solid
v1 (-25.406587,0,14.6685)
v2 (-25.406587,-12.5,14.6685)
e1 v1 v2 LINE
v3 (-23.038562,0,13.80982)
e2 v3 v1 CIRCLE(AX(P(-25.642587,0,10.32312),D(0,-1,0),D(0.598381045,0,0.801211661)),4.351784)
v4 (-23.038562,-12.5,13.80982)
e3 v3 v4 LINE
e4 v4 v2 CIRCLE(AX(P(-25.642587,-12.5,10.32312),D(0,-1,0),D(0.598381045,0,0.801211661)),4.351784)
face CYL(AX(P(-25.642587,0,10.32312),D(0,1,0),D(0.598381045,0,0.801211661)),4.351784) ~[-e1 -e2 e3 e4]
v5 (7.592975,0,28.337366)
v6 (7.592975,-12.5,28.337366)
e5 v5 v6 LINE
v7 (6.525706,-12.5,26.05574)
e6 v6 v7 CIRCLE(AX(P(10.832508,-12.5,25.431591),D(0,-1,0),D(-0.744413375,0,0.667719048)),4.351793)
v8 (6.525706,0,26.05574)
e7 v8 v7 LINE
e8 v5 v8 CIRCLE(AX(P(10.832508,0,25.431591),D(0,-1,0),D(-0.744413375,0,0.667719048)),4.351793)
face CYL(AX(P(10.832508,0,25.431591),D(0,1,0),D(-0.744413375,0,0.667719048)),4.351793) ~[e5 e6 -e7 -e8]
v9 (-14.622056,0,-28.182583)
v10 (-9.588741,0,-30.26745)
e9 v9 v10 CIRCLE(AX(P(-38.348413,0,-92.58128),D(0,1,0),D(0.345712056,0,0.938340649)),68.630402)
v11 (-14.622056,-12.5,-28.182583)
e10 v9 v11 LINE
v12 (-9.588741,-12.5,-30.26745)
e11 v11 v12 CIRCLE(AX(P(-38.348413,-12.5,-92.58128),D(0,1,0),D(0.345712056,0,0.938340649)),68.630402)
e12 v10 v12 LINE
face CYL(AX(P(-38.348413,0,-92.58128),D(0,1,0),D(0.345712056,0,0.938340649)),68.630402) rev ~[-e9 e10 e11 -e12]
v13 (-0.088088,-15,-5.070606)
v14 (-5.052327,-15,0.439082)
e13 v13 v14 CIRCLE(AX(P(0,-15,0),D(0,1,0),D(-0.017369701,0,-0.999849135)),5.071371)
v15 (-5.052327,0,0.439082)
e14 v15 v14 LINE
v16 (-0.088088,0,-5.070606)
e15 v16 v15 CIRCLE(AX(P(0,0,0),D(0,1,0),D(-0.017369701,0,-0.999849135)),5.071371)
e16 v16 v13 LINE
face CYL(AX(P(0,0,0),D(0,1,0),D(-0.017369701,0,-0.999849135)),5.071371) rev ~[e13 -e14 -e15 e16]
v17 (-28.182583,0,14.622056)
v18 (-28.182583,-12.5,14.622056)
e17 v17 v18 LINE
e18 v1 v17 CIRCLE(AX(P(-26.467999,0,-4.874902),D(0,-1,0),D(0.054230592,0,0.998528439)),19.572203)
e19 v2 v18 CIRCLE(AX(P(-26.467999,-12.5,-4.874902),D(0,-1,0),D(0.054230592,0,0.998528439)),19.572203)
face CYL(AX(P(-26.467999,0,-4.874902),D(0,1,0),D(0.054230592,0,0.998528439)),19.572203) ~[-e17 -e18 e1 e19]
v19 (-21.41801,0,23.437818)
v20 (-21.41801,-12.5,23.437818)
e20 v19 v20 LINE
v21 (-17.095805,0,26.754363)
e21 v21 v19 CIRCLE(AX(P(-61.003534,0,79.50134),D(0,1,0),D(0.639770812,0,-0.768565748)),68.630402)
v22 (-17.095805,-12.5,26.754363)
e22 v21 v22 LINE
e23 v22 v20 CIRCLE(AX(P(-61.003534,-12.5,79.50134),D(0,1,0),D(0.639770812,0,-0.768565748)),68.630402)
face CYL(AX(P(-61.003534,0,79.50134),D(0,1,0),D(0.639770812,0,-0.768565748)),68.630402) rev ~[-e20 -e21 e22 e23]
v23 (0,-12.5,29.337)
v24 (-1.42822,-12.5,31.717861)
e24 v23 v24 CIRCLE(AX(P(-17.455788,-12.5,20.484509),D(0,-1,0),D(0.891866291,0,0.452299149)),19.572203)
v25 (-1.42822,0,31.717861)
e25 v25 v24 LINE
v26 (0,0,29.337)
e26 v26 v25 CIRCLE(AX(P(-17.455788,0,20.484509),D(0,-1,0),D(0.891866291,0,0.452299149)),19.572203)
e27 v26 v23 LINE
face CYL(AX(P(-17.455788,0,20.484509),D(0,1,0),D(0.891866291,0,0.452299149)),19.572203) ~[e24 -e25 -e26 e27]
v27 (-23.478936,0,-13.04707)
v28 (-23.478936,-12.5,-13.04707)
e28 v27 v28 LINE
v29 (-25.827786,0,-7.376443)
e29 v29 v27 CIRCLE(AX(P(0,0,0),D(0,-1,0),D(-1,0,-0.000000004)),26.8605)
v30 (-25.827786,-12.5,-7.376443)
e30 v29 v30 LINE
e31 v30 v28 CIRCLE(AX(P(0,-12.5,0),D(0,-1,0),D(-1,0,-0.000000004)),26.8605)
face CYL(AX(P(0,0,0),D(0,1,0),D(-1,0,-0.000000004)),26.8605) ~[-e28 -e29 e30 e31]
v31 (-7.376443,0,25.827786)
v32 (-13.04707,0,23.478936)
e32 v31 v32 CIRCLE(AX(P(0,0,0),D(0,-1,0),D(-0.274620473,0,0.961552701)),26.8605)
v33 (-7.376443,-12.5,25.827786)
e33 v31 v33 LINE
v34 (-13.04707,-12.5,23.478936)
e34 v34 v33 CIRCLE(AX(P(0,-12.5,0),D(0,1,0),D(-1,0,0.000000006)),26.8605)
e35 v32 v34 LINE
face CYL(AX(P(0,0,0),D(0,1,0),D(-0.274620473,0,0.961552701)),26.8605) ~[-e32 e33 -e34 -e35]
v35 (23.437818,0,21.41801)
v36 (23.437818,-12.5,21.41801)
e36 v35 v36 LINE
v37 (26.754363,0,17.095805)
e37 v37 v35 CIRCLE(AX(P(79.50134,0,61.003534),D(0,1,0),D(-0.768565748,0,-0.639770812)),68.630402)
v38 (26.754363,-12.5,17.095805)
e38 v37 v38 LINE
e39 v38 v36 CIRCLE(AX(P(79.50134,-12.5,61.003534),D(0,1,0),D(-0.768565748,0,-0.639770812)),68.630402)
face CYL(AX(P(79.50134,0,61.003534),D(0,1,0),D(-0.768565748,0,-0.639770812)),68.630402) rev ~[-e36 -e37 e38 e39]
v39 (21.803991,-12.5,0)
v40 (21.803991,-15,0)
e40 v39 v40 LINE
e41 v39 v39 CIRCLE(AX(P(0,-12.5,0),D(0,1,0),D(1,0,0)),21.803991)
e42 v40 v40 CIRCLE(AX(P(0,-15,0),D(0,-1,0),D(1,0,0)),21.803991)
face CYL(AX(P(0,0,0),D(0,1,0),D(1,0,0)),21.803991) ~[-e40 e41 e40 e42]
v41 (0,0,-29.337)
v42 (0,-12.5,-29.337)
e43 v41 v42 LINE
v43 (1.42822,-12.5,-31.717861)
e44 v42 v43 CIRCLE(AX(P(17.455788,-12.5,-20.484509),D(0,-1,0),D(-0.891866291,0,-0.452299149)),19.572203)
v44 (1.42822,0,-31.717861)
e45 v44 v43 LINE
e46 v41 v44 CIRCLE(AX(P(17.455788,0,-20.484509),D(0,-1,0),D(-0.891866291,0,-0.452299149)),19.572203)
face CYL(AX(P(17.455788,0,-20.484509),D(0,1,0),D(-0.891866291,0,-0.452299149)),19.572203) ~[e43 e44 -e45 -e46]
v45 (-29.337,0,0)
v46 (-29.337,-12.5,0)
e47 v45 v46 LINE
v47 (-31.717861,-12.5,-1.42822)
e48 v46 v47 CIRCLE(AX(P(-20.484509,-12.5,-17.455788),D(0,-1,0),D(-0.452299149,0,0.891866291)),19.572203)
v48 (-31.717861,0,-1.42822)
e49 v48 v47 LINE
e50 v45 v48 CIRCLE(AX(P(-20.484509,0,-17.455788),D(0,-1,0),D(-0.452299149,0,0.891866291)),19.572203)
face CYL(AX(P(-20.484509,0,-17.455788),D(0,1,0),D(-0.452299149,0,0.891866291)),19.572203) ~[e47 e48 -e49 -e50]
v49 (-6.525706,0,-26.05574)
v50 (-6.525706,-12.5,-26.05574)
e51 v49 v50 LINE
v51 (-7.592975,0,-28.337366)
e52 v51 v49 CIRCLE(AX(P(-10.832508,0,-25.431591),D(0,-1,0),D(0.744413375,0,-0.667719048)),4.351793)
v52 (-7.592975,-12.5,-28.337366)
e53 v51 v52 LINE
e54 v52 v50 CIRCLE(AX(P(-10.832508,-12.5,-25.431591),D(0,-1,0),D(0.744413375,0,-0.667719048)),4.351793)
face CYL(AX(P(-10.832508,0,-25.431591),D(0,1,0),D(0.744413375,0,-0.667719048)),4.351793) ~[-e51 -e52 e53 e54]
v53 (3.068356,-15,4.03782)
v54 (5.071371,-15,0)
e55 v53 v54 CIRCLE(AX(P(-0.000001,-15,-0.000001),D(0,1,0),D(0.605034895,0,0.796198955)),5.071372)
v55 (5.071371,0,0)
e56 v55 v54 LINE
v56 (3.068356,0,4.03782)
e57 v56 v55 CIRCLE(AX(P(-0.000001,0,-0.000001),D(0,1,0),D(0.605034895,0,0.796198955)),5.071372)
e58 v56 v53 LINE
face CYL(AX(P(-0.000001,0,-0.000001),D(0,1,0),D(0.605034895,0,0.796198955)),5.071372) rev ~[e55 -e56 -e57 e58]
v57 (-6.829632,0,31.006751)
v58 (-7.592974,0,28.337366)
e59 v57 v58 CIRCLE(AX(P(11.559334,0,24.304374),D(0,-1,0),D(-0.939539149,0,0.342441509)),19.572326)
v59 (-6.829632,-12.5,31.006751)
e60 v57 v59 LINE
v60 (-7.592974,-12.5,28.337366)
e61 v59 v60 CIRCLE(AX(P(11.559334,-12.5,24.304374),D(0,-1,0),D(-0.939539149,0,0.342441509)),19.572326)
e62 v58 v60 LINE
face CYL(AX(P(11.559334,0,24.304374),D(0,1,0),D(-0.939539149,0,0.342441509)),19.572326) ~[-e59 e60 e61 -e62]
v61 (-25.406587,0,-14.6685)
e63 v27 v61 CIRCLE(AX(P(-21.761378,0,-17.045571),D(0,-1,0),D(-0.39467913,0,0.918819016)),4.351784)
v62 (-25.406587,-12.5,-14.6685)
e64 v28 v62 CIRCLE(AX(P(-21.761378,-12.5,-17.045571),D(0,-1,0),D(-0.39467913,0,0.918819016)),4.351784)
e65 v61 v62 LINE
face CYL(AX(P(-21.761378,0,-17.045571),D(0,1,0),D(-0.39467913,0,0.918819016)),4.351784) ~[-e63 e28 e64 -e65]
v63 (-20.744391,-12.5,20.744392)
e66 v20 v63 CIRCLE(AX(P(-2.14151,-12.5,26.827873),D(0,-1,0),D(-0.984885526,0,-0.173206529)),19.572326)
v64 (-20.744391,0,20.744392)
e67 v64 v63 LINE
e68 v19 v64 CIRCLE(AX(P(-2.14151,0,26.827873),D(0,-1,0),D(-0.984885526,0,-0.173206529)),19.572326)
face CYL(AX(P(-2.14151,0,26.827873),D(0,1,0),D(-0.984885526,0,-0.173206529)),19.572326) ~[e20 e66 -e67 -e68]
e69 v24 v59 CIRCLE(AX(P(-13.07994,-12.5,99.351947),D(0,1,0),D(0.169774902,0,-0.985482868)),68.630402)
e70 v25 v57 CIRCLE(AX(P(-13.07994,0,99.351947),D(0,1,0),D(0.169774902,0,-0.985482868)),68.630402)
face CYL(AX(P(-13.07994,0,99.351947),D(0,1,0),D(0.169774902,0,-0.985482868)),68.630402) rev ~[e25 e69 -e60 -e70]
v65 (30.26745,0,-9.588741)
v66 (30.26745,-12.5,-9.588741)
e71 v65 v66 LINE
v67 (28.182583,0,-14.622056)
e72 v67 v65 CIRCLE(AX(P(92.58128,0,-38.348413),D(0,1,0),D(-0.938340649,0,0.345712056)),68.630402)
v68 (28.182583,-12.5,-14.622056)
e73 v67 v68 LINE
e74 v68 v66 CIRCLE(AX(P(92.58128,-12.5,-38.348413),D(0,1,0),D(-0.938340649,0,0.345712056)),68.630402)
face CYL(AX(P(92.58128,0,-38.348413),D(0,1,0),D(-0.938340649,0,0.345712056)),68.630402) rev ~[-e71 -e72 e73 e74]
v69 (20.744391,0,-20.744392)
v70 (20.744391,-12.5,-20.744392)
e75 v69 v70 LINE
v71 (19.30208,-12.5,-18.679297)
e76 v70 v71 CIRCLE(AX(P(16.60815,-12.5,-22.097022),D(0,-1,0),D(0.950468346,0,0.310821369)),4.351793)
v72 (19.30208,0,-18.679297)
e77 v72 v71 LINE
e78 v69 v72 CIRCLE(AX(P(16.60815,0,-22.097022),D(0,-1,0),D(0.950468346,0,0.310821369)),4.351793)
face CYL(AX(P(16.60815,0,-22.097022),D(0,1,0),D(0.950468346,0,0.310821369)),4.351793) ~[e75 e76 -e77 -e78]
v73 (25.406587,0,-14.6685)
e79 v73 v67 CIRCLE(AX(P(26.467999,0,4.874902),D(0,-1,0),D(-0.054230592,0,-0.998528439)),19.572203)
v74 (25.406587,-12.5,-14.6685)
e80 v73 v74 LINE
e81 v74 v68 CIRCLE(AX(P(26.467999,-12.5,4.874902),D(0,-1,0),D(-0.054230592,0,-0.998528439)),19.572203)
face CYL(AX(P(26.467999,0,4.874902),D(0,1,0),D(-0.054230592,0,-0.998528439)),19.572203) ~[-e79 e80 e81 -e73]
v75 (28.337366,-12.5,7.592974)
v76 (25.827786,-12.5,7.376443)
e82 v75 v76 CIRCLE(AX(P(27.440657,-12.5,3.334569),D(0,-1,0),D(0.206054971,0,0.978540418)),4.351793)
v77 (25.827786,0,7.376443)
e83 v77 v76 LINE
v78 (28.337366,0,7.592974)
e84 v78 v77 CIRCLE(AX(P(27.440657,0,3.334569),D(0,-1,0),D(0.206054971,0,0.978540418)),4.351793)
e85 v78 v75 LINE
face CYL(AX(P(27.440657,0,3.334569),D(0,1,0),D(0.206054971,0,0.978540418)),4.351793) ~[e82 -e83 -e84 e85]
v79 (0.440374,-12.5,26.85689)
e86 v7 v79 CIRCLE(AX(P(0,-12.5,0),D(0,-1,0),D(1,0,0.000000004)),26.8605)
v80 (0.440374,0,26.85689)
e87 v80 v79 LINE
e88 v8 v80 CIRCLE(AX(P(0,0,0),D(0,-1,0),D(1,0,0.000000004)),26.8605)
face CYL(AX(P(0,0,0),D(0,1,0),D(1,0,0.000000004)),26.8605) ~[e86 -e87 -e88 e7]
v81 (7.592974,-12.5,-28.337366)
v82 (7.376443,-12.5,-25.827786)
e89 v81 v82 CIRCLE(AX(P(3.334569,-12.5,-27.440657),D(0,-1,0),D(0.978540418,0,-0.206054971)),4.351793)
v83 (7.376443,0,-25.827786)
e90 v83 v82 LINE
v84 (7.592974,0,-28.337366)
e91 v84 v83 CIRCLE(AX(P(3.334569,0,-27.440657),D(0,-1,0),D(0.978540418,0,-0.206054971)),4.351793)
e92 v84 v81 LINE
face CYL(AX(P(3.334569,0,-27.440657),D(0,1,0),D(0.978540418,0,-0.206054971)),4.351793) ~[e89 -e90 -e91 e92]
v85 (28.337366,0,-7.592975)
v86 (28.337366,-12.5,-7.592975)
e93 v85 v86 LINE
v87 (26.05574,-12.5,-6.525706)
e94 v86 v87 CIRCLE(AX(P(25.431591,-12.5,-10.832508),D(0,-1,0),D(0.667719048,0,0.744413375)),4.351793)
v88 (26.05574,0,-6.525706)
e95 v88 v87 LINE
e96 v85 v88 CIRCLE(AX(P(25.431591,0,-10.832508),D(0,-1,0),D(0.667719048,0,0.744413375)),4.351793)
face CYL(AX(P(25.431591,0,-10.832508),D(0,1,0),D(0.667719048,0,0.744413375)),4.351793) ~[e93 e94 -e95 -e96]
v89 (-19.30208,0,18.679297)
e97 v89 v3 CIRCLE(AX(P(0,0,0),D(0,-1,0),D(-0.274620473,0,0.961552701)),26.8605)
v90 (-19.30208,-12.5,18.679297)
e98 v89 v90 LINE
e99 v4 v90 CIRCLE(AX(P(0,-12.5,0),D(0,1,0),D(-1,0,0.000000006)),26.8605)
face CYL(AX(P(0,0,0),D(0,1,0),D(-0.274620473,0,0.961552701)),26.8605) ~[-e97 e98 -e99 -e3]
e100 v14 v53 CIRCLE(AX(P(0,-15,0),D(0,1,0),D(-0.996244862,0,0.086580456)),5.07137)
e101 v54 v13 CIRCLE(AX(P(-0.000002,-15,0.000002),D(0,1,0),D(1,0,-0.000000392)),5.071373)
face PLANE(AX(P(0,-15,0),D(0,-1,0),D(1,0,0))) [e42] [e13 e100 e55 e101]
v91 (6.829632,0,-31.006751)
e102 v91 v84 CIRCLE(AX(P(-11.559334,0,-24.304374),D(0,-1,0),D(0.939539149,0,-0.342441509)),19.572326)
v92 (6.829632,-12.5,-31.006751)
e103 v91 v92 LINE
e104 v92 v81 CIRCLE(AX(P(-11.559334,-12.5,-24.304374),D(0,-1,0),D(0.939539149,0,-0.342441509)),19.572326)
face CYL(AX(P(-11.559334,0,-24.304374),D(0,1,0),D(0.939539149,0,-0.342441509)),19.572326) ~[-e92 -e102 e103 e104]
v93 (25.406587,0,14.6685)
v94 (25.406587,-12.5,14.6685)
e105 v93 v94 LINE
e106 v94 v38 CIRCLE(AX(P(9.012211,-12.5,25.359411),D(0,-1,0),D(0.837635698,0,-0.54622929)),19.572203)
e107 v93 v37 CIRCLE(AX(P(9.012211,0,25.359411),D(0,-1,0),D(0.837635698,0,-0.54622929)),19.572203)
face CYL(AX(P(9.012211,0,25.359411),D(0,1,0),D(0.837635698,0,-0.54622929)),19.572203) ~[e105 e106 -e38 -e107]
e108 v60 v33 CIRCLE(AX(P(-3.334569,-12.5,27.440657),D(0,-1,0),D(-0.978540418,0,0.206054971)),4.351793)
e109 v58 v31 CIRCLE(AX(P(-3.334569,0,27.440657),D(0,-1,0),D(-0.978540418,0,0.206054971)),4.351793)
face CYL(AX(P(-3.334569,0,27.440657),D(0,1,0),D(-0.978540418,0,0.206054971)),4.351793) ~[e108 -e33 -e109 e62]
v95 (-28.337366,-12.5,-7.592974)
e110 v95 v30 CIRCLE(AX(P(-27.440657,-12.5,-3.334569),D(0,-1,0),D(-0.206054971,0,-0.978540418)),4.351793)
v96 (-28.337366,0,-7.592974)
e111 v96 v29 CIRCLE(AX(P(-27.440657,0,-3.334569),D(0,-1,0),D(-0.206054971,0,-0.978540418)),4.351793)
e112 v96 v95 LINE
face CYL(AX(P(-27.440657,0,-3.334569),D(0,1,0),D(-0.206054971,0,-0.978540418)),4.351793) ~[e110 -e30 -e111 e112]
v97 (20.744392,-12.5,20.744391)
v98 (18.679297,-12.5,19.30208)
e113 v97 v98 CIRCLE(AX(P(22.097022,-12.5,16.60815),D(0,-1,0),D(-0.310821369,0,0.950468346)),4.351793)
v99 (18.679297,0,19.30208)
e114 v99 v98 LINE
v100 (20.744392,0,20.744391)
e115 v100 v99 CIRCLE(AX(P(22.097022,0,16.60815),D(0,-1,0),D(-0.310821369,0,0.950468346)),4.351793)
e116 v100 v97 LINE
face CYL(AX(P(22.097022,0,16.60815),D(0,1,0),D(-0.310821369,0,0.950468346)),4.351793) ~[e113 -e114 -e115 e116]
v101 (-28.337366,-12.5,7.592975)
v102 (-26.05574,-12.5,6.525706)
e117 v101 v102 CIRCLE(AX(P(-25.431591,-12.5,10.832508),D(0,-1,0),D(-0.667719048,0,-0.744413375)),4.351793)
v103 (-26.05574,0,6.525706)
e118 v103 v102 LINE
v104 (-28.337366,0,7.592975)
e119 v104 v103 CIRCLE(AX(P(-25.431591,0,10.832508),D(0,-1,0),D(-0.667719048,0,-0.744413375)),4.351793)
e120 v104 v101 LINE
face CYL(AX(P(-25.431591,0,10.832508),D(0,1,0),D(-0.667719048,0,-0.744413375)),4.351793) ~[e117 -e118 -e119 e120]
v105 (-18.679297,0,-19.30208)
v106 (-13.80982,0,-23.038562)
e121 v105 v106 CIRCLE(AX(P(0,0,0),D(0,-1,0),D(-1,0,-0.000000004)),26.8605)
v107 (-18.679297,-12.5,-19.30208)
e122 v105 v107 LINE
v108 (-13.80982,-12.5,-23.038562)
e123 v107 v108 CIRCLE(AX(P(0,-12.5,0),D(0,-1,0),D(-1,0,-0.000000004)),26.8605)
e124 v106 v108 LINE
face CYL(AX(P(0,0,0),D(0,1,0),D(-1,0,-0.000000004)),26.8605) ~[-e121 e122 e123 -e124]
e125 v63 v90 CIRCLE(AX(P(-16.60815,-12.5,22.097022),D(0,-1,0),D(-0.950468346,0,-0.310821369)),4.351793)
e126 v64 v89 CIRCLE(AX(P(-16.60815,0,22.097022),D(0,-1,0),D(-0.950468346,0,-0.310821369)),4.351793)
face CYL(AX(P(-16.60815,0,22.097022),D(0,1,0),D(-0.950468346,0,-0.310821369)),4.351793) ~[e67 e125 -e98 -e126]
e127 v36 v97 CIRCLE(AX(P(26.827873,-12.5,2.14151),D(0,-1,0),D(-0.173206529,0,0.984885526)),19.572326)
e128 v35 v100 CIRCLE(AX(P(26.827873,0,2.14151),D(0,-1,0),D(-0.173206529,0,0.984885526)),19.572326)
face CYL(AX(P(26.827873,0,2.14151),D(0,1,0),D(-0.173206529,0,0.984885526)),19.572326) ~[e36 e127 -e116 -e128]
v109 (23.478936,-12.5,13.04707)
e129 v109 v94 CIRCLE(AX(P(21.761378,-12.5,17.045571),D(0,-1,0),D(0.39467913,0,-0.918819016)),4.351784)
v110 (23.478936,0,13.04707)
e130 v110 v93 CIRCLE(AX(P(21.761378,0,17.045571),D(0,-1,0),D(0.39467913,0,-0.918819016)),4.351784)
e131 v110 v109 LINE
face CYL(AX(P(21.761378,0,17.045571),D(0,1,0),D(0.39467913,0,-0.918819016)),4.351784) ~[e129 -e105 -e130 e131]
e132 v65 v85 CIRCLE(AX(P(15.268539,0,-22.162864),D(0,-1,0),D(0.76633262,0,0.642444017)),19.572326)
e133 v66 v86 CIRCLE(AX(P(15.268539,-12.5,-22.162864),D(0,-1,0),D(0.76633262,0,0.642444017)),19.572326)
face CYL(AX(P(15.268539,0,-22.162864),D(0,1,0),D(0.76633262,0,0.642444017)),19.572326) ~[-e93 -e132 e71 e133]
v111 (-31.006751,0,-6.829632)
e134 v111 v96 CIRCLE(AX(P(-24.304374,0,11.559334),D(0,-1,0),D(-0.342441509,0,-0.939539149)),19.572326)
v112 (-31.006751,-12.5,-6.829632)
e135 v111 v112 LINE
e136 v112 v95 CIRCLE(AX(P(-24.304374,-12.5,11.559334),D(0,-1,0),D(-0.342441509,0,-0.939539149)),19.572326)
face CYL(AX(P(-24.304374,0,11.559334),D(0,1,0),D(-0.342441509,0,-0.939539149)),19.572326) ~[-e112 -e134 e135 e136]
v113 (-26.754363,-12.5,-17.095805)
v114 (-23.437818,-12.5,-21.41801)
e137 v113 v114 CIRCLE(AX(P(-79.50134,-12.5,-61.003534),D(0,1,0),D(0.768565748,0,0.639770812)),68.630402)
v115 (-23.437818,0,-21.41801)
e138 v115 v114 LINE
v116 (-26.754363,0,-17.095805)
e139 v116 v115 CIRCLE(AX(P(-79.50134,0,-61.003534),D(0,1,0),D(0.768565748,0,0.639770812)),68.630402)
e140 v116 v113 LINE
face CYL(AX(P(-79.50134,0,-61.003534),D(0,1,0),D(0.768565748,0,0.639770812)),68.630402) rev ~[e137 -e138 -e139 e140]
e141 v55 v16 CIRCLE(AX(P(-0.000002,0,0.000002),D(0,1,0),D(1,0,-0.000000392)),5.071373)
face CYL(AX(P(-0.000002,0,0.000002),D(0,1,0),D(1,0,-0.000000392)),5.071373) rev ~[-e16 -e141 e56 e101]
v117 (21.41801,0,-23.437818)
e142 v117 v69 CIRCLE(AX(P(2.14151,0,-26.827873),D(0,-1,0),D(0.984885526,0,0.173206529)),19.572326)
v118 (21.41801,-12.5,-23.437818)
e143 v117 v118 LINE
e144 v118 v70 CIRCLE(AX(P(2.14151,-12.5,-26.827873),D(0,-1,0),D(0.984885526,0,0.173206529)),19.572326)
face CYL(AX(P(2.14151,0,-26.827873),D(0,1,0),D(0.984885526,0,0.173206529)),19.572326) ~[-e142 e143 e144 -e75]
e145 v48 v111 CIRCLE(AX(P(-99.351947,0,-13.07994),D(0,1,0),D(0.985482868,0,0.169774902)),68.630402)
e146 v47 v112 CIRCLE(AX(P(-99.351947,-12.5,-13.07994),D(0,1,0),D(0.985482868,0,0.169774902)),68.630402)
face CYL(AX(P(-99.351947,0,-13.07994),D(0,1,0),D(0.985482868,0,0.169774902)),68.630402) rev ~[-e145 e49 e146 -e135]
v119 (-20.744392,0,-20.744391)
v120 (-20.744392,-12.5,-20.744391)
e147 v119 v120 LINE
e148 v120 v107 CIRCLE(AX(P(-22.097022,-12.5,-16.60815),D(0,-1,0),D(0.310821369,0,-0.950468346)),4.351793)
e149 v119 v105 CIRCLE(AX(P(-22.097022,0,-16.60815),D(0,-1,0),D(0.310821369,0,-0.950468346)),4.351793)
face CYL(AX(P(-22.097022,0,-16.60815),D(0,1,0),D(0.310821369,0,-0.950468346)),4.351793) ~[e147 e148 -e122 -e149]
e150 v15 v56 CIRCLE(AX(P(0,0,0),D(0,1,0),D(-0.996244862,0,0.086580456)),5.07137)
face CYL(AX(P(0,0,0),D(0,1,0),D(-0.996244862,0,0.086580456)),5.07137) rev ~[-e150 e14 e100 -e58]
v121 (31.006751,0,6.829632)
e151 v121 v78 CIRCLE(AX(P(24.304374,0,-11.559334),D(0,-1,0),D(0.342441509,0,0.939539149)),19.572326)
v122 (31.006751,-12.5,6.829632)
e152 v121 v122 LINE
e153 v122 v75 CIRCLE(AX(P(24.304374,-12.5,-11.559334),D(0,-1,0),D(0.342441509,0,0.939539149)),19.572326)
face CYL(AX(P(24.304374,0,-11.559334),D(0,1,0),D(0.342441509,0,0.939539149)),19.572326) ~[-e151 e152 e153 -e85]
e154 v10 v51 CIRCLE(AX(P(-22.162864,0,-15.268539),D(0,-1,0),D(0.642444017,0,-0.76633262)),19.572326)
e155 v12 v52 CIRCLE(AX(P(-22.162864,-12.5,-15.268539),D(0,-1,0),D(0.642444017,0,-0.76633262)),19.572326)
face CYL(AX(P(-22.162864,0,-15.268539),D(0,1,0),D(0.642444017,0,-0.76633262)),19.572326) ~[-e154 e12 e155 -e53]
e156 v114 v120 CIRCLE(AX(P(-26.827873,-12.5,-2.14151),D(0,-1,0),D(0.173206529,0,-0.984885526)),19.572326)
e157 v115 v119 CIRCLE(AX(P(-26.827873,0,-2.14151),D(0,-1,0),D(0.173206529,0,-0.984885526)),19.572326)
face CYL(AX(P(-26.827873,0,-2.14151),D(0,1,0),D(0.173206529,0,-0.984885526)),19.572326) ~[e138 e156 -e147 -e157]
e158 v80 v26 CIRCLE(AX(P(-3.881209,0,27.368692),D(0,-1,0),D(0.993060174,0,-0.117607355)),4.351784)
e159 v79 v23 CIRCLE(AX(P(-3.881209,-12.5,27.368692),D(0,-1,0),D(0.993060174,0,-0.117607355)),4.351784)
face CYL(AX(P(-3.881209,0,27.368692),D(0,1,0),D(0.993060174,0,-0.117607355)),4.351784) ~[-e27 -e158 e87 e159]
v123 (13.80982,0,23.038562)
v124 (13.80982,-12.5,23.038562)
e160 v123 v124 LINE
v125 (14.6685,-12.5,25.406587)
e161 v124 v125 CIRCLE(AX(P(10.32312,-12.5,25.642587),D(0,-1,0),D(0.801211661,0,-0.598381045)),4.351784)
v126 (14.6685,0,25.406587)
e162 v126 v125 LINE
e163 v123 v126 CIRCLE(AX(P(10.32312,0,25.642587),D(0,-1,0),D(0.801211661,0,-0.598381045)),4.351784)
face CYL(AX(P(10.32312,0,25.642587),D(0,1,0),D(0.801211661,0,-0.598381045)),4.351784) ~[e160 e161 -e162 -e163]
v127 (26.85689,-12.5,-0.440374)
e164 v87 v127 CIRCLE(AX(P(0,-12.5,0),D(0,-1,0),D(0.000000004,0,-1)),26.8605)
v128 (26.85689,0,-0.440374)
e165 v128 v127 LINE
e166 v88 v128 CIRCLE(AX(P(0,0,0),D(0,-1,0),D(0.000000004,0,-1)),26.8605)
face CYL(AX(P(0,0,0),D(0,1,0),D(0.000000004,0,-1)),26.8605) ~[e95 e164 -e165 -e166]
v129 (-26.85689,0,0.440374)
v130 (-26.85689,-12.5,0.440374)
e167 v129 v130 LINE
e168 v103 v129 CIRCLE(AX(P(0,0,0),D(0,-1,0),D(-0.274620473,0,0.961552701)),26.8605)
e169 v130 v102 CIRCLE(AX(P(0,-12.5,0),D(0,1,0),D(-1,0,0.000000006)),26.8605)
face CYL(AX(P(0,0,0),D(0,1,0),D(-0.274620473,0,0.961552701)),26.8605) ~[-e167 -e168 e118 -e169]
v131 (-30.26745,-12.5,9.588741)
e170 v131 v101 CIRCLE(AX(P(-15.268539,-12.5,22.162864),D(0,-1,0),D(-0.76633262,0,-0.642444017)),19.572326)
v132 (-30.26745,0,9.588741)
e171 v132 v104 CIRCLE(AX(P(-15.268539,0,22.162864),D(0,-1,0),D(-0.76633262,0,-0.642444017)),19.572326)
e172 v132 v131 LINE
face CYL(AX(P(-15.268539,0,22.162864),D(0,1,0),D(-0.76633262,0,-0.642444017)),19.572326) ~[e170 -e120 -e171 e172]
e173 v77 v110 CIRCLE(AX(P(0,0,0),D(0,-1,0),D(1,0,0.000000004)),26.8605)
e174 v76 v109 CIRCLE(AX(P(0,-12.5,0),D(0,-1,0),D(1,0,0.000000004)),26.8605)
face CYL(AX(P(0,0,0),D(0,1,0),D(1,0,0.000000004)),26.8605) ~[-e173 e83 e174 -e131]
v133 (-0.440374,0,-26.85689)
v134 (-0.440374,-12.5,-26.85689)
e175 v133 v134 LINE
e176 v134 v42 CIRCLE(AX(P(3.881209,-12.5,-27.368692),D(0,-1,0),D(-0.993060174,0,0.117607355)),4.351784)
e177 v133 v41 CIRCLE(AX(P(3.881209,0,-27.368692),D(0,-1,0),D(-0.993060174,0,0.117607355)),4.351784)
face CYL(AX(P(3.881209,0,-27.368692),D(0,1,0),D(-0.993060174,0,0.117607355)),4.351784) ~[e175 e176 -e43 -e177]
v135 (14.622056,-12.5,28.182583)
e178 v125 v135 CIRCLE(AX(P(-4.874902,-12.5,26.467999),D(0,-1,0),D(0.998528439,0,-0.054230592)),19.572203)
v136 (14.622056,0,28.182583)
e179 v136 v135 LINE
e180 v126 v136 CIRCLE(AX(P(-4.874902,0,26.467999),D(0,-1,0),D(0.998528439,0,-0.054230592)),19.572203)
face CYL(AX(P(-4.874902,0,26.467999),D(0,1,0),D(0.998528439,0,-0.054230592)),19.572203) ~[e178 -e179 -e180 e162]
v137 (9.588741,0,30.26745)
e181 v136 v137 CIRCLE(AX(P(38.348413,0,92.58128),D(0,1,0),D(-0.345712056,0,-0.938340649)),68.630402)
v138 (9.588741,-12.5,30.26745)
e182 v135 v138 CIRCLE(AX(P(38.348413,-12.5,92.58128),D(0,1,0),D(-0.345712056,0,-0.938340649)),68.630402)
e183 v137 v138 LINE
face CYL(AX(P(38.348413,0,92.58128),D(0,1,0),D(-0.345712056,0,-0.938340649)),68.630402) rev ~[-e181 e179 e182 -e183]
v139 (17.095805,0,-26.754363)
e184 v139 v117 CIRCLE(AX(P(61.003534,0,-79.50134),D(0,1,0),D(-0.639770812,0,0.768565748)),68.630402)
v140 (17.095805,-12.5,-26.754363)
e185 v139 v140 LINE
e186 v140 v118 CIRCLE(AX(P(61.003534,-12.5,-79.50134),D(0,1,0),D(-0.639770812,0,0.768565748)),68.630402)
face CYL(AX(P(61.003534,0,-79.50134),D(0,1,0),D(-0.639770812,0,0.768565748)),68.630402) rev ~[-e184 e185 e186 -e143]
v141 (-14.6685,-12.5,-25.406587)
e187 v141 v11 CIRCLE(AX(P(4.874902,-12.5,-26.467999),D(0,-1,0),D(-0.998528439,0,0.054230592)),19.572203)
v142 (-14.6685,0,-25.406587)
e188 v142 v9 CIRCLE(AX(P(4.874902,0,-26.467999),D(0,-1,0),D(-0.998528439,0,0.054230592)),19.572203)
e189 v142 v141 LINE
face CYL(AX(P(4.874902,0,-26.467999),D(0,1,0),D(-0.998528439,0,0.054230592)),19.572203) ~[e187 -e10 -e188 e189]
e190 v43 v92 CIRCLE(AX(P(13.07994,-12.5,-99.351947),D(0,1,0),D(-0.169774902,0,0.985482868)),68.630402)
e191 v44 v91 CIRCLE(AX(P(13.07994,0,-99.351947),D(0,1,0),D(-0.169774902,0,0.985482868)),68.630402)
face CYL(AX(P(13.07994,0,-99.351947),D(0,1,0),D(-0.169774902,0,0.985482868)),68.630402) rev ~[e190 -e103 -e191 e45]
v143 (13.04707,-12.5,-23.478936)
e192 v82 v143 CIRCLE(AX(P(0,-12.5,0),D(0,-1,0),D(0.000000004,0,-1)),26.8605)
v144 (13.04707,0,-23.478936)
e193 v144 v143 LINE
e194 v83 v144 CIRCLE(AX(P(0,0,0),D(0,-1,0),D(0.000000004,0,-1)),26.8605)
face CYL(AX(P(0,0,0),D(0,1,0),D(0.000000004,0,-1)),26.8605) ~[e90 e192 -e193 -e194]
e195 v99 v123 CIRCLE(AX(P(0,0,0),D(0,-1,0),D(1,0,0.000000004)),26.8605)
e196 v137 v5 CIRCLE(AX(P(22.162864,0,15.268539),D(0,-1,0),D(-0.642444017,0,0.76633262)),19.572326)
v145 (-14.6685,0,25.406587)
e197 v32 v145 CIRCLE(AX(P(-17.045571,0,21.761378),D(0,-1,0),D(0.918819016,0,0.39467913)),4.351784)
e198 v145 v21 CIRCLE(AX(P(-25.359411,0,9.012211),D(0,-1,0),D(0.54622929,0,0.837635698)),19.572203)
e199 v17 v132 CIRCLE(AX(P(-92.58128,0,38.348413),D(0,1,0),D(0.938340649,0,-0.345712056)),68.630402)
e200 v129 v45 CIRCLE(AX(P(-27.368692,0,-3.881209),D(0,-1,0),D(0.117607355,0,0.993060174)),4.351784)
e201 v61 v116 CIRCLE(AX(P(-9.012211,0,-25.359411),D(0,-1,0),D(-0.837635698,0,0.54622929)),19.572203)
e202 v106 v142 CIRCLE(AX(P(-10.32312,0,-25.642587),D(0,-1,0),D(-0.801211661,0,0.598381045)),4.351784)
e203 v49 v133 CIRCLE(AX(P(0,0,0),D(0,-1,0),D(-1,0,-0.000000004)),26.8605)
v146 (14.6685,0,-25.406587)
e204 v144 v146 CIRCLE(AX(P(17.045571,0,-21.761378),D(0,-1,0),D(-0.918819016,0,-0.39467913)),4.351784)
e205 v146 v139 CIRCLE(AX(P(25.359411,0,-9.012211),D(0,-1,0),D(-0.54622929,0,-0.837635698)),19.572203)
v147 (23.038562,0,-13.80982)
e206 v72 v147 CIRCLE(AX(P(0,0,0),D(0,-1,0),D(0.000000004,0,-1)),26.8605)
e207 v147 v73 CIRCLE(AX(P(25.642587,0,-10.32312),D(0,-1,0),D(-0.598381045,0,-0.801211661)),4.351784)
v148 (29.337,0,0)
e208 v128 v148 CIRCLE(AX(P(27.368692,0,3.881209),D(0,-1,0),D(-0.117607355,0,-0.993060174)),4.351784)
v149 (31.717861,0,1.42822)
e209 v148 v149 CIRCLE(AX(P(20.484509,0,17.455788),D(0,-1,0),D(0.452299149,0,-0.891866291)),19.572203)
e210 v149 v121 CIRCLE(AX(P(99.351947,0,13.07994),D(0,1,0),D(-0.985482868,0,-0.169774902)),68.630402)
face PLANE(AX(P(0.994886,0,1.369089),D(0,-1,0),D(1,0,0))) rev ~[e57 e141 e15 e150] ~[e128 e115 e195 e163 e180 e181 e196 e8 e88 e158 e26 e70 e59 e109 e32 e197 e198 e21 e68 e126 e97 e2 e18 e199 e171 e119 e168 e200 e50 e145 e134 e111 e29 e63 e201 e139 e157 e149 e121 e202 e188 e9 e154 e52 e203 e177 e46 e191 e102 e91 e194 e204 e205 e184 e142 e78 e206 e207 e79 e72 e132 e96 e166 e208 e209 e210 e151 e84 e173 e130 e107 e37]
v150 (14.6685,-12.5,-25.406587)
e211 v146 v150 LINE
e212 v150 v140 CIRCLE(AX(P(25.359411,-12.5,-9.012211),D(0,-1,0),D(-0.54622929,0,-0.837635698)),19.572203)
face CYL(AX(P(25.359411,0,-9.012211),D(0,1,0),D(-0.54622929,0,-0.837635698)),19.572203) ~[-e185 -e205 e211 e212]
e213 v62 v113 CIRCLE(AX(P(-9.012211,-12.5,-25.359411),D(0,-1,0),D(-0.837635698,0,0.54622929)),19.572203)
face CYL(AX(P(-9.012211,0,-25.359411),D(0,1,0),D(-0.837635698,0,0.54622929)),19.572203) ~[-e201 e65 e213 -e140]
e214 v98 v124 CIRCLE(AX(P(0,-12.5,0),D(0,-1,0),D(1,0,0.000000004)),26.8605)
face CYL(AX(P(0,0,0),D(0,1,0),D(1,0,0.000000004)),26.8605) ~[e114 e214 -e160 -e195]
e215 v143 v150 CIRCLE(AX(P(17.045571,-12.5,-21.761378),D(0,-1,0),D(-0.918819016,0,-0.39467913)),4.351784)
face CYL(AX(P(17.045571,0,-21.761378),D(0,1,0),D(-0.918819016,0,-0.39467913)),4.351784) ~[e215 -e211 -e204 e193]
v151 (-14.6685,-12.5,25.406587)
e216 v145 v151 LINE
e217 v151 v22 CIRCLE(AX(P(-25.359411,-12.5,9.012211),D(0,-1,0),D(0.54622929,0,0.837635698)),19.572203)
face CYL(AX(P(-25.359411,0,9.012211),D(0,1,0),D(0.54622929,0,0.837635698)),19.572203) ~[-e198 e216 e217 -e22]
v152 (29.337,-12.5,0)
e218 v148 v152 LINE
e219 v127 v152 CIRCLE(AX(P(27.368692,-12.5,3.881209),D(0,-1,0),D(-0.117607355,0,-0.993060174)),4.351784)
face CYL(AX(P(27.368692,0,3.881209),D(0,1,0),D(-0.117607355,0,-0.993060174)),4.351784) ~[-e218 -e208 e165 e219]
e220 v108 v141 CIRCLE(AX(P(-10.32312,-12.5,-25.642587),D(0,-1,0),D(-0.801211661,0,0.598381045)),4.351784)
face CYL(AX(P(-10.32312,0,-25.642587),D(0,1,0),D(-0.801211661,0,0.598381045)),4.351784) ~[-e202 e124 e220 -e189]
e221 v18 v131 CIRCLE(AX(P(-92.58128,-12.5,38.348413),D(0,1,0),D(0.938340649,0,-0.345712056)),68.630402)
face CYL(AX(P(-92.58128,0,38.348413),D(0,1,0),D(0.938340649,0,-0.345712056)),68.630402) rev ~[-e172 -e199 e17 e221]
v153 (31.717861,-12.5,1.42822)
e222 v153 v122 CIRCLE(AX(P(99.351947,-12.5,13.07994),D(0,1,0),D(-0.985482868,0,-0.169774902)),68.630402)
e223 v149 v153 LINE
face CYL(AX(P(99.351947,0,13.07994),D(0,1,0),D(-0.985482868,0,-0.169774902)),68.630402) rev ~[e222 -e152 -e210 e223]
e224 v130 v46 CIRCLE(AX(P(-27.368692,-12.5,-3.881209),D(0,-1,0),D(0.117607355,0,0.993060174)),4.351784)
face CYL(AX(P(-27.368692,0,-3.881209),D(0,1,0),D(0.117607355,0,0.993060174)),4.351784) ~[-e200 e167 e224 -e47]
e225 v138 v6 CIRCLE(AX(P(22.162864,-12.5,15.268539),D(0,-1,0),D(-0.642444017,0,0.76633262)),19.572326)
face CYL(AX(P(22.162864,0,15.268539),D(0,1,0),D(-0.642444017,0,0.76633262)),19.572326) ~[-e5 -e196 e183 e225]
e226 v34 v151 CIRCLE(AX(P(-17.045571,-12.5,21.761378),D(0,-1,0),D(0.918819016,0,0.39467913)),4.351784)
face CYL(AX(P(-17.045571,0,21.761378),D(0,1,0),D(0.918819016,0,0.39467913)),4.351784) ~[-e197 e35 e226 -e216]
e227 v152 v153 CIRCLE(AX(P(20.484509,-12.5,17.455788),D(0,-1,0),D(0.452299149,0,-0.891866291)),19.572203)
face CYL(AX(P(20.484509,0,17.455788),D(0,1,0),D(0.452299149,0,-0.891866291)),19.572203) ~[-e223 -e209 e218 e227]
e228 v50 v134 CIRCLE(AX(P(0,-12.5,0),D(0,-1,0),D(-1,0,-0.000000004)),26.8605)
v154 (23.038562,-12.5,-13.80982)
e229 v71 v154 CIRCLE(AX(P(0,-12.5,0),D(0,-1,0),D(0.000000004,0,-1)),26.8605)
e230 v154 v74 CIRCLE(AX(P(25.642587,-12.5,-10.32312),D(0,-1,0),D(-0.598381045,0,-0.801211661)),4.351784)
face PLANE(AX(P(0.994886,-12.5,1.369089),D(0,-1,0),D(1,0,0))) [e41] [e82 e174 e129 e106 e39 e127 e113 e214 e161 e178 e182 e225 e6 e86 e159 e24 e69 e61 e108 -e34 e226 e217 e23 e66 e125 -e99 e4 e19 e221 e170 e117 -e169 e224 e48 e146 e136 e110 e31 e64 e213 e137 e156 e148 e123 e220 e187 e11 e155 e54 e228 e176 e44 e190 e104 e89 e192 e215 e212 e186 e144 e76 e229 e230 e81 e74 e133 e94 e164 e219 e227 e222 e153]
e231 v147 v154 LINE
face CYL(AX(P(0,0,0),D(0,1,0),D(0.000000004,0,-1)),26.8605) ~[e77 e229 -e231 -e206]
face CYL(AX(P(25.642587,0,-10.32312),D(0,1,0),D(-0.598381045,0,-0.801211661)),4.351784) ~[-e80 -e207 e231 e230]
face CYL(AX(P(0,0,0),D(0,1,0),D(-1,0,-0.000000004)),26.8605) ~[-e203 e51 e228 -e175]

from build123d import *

# Parameters (mm, degrees)
F0_R     = 21.803991
F1_DEPTH = 12.5
F2_COUNT = 12
F3_DEPTH = 15


with BuildPart() as f1:
    # F0 (on Front) → F1 (new body)
    with BuildSketch(Plane.XZ):
        with BuildLine():
            ThreePointArc((-7.376443, 25.827786), (-16.176395, -21.443197), (26.8605, 0))
            ThreePointArc((26.8605, 0), (19.148304, 18.836903), (0.440374, 26.85689))
            ThreePointArc((0.440374, 26.85689), (-3.505999, 26.630705), (-7.376443, 25.827786))
        make_face()
        Circle(F0_R, mode=Mode.SUBTRACT)
        with BuildLine():
            ThreePointArc((-7.376443, 25.827786), (-3.505999, 26.630705), (0.440374, 26.85689))
            ThreePointArc((0.440374, 26.85689), (0.403553, 28.129504), (0, 29.337))
            ThreePointArc((0, 29.337), (-0.67184, 30.552787), (-1.42822, 31.717861))
            ThreePointArc((-1.42822, 31.717861), (-4.121867, 31.308688), (-6.829632, 31.006751))
            ThreePointArc((-6.829632, 31.006751), (-7.258695, 29.685611), (-7.592974, 28.337366))
            ThreePointArc((-7.592974, 28.337366), (-7.670253, 27.066567), (-7.376443, 25.827786))
        make_face()
    extrude(amount=F1_DEPTH)



with BuildPart() as f2_1:
    # F2: instance of F1
    add(f1.part.rotate(Axis((0, 0, 0), (0, 1, 0)), 1 * 360 / F2_COUNT))


with BuildPart() as f2_2:
    # F2: instance of F1
    add(f1.part.rotate(Axis((0, 0, 0), (0, 1, 0)), 2 * 360 / F2_COUNT))


with BuildPart() as f2_3:
    # F2: instance of F1
    add(f1.part.rotate(Axis((0, 0, 0), (0, 1, 0)), 3 * 360 / F2_COUNT))


with BuildPart() as f2_4:
    # F2: instance of F1
    add(f1.part.rotate(Axis((0, 0, 0), (0, 1, 0)), 4 * 360 / F2_COUNT))


with BuildPart() as f2_5:
    # F2: instance of F1
    add(f1.part.rotate(Axis((0, 0, 0), (0, 1, 0)), 5 * 360 / F2_COUNT))


with BuildPart() as f2_6:
    # F2: instance of F1
    add(f1.part.rotate(Axis((0, 0, 0), (0, 1, 0)), 6 * 360 / F2_COUNT))


with BuildPart() as f2_7:
    # F2: instance of F1
    add(f1.part.rotate(Axis((0, 0, 0), (0, 1, 0)), 7 * 360 / F2_COUNT))


with BuildPart() as f2_8:
    # F2: instance of F1
    add(f1.part.rotate(Axis((0, 0, 0), (0, 1, 0)), 8 * 360 / F2_COUNT))


with BuildPart() as f2_9:
    # F2: instance of F1
    add(f1.part.rotate(Axis((0, 0, 0), (0, 1, 0)), 9 * 360 / F2_COUNT))


with BuildPart() as f2_10:
    # F2: instance of F1
    add(f1.part.rotate(Axis((0, 0, 0), (0, 1, 0)), 10 * 360 / F2_COUNT))


with BuildPart() as f2_11:
    # F2: instance of F1
    add(f1.part.rotate(Axis((0, 0, 0), (0, 1, 0)), 11 * 360 / F2_COUNT))


with BuildPart() as f1_1:
    add(f1.part)

    add(f2_1.part)  # F3 merges F2_1

    add(f2_2.part)  # F3 merges F2_2

    add(f2_3.part)  # F3 merges F2_3

    add(f2_4.part)  # F3 merges F2_4

    add(f2_5.part)  # F3 merges F2_5

    add(f2_6.part)  # F3 merges F2_6

    add(f2_7.part)  # F3 merges F2_7

    add(f2_8.part)  # F3 merges F2_8

    add(f2_9.part)  # F3 merges F2_9

    add(f2_10.part)  # F3 merges F2_10

    add(f2_11.part)  # F3 merges F2_11
    # F0 (on Front) → F3 (join)
    with BuildSketch(Plane.XZ):
        Circle(F0_R)
        with BuildLine():
            ThreePointArc((5.071371, 0), (3.55472, -3.61701), (-0.088088, -5.070606))
            ThreePointArc((-0.088088, -5.070606), (-3.767643, -3.394653), (-5.052327, 0.439082))
            ThreePointArc((-5.052327, 0.439082), (-2.054693, 4.63649), (3.068356, 4.03782))
            ThreePointArc((3.068356, 4.03782), (4.543103, 2.253667), (5.071371, 0))
        make_face(mode=Mode.SUBTRACT)
    extrude(amount=F3_DEPTH)


solid = f1_1.part
